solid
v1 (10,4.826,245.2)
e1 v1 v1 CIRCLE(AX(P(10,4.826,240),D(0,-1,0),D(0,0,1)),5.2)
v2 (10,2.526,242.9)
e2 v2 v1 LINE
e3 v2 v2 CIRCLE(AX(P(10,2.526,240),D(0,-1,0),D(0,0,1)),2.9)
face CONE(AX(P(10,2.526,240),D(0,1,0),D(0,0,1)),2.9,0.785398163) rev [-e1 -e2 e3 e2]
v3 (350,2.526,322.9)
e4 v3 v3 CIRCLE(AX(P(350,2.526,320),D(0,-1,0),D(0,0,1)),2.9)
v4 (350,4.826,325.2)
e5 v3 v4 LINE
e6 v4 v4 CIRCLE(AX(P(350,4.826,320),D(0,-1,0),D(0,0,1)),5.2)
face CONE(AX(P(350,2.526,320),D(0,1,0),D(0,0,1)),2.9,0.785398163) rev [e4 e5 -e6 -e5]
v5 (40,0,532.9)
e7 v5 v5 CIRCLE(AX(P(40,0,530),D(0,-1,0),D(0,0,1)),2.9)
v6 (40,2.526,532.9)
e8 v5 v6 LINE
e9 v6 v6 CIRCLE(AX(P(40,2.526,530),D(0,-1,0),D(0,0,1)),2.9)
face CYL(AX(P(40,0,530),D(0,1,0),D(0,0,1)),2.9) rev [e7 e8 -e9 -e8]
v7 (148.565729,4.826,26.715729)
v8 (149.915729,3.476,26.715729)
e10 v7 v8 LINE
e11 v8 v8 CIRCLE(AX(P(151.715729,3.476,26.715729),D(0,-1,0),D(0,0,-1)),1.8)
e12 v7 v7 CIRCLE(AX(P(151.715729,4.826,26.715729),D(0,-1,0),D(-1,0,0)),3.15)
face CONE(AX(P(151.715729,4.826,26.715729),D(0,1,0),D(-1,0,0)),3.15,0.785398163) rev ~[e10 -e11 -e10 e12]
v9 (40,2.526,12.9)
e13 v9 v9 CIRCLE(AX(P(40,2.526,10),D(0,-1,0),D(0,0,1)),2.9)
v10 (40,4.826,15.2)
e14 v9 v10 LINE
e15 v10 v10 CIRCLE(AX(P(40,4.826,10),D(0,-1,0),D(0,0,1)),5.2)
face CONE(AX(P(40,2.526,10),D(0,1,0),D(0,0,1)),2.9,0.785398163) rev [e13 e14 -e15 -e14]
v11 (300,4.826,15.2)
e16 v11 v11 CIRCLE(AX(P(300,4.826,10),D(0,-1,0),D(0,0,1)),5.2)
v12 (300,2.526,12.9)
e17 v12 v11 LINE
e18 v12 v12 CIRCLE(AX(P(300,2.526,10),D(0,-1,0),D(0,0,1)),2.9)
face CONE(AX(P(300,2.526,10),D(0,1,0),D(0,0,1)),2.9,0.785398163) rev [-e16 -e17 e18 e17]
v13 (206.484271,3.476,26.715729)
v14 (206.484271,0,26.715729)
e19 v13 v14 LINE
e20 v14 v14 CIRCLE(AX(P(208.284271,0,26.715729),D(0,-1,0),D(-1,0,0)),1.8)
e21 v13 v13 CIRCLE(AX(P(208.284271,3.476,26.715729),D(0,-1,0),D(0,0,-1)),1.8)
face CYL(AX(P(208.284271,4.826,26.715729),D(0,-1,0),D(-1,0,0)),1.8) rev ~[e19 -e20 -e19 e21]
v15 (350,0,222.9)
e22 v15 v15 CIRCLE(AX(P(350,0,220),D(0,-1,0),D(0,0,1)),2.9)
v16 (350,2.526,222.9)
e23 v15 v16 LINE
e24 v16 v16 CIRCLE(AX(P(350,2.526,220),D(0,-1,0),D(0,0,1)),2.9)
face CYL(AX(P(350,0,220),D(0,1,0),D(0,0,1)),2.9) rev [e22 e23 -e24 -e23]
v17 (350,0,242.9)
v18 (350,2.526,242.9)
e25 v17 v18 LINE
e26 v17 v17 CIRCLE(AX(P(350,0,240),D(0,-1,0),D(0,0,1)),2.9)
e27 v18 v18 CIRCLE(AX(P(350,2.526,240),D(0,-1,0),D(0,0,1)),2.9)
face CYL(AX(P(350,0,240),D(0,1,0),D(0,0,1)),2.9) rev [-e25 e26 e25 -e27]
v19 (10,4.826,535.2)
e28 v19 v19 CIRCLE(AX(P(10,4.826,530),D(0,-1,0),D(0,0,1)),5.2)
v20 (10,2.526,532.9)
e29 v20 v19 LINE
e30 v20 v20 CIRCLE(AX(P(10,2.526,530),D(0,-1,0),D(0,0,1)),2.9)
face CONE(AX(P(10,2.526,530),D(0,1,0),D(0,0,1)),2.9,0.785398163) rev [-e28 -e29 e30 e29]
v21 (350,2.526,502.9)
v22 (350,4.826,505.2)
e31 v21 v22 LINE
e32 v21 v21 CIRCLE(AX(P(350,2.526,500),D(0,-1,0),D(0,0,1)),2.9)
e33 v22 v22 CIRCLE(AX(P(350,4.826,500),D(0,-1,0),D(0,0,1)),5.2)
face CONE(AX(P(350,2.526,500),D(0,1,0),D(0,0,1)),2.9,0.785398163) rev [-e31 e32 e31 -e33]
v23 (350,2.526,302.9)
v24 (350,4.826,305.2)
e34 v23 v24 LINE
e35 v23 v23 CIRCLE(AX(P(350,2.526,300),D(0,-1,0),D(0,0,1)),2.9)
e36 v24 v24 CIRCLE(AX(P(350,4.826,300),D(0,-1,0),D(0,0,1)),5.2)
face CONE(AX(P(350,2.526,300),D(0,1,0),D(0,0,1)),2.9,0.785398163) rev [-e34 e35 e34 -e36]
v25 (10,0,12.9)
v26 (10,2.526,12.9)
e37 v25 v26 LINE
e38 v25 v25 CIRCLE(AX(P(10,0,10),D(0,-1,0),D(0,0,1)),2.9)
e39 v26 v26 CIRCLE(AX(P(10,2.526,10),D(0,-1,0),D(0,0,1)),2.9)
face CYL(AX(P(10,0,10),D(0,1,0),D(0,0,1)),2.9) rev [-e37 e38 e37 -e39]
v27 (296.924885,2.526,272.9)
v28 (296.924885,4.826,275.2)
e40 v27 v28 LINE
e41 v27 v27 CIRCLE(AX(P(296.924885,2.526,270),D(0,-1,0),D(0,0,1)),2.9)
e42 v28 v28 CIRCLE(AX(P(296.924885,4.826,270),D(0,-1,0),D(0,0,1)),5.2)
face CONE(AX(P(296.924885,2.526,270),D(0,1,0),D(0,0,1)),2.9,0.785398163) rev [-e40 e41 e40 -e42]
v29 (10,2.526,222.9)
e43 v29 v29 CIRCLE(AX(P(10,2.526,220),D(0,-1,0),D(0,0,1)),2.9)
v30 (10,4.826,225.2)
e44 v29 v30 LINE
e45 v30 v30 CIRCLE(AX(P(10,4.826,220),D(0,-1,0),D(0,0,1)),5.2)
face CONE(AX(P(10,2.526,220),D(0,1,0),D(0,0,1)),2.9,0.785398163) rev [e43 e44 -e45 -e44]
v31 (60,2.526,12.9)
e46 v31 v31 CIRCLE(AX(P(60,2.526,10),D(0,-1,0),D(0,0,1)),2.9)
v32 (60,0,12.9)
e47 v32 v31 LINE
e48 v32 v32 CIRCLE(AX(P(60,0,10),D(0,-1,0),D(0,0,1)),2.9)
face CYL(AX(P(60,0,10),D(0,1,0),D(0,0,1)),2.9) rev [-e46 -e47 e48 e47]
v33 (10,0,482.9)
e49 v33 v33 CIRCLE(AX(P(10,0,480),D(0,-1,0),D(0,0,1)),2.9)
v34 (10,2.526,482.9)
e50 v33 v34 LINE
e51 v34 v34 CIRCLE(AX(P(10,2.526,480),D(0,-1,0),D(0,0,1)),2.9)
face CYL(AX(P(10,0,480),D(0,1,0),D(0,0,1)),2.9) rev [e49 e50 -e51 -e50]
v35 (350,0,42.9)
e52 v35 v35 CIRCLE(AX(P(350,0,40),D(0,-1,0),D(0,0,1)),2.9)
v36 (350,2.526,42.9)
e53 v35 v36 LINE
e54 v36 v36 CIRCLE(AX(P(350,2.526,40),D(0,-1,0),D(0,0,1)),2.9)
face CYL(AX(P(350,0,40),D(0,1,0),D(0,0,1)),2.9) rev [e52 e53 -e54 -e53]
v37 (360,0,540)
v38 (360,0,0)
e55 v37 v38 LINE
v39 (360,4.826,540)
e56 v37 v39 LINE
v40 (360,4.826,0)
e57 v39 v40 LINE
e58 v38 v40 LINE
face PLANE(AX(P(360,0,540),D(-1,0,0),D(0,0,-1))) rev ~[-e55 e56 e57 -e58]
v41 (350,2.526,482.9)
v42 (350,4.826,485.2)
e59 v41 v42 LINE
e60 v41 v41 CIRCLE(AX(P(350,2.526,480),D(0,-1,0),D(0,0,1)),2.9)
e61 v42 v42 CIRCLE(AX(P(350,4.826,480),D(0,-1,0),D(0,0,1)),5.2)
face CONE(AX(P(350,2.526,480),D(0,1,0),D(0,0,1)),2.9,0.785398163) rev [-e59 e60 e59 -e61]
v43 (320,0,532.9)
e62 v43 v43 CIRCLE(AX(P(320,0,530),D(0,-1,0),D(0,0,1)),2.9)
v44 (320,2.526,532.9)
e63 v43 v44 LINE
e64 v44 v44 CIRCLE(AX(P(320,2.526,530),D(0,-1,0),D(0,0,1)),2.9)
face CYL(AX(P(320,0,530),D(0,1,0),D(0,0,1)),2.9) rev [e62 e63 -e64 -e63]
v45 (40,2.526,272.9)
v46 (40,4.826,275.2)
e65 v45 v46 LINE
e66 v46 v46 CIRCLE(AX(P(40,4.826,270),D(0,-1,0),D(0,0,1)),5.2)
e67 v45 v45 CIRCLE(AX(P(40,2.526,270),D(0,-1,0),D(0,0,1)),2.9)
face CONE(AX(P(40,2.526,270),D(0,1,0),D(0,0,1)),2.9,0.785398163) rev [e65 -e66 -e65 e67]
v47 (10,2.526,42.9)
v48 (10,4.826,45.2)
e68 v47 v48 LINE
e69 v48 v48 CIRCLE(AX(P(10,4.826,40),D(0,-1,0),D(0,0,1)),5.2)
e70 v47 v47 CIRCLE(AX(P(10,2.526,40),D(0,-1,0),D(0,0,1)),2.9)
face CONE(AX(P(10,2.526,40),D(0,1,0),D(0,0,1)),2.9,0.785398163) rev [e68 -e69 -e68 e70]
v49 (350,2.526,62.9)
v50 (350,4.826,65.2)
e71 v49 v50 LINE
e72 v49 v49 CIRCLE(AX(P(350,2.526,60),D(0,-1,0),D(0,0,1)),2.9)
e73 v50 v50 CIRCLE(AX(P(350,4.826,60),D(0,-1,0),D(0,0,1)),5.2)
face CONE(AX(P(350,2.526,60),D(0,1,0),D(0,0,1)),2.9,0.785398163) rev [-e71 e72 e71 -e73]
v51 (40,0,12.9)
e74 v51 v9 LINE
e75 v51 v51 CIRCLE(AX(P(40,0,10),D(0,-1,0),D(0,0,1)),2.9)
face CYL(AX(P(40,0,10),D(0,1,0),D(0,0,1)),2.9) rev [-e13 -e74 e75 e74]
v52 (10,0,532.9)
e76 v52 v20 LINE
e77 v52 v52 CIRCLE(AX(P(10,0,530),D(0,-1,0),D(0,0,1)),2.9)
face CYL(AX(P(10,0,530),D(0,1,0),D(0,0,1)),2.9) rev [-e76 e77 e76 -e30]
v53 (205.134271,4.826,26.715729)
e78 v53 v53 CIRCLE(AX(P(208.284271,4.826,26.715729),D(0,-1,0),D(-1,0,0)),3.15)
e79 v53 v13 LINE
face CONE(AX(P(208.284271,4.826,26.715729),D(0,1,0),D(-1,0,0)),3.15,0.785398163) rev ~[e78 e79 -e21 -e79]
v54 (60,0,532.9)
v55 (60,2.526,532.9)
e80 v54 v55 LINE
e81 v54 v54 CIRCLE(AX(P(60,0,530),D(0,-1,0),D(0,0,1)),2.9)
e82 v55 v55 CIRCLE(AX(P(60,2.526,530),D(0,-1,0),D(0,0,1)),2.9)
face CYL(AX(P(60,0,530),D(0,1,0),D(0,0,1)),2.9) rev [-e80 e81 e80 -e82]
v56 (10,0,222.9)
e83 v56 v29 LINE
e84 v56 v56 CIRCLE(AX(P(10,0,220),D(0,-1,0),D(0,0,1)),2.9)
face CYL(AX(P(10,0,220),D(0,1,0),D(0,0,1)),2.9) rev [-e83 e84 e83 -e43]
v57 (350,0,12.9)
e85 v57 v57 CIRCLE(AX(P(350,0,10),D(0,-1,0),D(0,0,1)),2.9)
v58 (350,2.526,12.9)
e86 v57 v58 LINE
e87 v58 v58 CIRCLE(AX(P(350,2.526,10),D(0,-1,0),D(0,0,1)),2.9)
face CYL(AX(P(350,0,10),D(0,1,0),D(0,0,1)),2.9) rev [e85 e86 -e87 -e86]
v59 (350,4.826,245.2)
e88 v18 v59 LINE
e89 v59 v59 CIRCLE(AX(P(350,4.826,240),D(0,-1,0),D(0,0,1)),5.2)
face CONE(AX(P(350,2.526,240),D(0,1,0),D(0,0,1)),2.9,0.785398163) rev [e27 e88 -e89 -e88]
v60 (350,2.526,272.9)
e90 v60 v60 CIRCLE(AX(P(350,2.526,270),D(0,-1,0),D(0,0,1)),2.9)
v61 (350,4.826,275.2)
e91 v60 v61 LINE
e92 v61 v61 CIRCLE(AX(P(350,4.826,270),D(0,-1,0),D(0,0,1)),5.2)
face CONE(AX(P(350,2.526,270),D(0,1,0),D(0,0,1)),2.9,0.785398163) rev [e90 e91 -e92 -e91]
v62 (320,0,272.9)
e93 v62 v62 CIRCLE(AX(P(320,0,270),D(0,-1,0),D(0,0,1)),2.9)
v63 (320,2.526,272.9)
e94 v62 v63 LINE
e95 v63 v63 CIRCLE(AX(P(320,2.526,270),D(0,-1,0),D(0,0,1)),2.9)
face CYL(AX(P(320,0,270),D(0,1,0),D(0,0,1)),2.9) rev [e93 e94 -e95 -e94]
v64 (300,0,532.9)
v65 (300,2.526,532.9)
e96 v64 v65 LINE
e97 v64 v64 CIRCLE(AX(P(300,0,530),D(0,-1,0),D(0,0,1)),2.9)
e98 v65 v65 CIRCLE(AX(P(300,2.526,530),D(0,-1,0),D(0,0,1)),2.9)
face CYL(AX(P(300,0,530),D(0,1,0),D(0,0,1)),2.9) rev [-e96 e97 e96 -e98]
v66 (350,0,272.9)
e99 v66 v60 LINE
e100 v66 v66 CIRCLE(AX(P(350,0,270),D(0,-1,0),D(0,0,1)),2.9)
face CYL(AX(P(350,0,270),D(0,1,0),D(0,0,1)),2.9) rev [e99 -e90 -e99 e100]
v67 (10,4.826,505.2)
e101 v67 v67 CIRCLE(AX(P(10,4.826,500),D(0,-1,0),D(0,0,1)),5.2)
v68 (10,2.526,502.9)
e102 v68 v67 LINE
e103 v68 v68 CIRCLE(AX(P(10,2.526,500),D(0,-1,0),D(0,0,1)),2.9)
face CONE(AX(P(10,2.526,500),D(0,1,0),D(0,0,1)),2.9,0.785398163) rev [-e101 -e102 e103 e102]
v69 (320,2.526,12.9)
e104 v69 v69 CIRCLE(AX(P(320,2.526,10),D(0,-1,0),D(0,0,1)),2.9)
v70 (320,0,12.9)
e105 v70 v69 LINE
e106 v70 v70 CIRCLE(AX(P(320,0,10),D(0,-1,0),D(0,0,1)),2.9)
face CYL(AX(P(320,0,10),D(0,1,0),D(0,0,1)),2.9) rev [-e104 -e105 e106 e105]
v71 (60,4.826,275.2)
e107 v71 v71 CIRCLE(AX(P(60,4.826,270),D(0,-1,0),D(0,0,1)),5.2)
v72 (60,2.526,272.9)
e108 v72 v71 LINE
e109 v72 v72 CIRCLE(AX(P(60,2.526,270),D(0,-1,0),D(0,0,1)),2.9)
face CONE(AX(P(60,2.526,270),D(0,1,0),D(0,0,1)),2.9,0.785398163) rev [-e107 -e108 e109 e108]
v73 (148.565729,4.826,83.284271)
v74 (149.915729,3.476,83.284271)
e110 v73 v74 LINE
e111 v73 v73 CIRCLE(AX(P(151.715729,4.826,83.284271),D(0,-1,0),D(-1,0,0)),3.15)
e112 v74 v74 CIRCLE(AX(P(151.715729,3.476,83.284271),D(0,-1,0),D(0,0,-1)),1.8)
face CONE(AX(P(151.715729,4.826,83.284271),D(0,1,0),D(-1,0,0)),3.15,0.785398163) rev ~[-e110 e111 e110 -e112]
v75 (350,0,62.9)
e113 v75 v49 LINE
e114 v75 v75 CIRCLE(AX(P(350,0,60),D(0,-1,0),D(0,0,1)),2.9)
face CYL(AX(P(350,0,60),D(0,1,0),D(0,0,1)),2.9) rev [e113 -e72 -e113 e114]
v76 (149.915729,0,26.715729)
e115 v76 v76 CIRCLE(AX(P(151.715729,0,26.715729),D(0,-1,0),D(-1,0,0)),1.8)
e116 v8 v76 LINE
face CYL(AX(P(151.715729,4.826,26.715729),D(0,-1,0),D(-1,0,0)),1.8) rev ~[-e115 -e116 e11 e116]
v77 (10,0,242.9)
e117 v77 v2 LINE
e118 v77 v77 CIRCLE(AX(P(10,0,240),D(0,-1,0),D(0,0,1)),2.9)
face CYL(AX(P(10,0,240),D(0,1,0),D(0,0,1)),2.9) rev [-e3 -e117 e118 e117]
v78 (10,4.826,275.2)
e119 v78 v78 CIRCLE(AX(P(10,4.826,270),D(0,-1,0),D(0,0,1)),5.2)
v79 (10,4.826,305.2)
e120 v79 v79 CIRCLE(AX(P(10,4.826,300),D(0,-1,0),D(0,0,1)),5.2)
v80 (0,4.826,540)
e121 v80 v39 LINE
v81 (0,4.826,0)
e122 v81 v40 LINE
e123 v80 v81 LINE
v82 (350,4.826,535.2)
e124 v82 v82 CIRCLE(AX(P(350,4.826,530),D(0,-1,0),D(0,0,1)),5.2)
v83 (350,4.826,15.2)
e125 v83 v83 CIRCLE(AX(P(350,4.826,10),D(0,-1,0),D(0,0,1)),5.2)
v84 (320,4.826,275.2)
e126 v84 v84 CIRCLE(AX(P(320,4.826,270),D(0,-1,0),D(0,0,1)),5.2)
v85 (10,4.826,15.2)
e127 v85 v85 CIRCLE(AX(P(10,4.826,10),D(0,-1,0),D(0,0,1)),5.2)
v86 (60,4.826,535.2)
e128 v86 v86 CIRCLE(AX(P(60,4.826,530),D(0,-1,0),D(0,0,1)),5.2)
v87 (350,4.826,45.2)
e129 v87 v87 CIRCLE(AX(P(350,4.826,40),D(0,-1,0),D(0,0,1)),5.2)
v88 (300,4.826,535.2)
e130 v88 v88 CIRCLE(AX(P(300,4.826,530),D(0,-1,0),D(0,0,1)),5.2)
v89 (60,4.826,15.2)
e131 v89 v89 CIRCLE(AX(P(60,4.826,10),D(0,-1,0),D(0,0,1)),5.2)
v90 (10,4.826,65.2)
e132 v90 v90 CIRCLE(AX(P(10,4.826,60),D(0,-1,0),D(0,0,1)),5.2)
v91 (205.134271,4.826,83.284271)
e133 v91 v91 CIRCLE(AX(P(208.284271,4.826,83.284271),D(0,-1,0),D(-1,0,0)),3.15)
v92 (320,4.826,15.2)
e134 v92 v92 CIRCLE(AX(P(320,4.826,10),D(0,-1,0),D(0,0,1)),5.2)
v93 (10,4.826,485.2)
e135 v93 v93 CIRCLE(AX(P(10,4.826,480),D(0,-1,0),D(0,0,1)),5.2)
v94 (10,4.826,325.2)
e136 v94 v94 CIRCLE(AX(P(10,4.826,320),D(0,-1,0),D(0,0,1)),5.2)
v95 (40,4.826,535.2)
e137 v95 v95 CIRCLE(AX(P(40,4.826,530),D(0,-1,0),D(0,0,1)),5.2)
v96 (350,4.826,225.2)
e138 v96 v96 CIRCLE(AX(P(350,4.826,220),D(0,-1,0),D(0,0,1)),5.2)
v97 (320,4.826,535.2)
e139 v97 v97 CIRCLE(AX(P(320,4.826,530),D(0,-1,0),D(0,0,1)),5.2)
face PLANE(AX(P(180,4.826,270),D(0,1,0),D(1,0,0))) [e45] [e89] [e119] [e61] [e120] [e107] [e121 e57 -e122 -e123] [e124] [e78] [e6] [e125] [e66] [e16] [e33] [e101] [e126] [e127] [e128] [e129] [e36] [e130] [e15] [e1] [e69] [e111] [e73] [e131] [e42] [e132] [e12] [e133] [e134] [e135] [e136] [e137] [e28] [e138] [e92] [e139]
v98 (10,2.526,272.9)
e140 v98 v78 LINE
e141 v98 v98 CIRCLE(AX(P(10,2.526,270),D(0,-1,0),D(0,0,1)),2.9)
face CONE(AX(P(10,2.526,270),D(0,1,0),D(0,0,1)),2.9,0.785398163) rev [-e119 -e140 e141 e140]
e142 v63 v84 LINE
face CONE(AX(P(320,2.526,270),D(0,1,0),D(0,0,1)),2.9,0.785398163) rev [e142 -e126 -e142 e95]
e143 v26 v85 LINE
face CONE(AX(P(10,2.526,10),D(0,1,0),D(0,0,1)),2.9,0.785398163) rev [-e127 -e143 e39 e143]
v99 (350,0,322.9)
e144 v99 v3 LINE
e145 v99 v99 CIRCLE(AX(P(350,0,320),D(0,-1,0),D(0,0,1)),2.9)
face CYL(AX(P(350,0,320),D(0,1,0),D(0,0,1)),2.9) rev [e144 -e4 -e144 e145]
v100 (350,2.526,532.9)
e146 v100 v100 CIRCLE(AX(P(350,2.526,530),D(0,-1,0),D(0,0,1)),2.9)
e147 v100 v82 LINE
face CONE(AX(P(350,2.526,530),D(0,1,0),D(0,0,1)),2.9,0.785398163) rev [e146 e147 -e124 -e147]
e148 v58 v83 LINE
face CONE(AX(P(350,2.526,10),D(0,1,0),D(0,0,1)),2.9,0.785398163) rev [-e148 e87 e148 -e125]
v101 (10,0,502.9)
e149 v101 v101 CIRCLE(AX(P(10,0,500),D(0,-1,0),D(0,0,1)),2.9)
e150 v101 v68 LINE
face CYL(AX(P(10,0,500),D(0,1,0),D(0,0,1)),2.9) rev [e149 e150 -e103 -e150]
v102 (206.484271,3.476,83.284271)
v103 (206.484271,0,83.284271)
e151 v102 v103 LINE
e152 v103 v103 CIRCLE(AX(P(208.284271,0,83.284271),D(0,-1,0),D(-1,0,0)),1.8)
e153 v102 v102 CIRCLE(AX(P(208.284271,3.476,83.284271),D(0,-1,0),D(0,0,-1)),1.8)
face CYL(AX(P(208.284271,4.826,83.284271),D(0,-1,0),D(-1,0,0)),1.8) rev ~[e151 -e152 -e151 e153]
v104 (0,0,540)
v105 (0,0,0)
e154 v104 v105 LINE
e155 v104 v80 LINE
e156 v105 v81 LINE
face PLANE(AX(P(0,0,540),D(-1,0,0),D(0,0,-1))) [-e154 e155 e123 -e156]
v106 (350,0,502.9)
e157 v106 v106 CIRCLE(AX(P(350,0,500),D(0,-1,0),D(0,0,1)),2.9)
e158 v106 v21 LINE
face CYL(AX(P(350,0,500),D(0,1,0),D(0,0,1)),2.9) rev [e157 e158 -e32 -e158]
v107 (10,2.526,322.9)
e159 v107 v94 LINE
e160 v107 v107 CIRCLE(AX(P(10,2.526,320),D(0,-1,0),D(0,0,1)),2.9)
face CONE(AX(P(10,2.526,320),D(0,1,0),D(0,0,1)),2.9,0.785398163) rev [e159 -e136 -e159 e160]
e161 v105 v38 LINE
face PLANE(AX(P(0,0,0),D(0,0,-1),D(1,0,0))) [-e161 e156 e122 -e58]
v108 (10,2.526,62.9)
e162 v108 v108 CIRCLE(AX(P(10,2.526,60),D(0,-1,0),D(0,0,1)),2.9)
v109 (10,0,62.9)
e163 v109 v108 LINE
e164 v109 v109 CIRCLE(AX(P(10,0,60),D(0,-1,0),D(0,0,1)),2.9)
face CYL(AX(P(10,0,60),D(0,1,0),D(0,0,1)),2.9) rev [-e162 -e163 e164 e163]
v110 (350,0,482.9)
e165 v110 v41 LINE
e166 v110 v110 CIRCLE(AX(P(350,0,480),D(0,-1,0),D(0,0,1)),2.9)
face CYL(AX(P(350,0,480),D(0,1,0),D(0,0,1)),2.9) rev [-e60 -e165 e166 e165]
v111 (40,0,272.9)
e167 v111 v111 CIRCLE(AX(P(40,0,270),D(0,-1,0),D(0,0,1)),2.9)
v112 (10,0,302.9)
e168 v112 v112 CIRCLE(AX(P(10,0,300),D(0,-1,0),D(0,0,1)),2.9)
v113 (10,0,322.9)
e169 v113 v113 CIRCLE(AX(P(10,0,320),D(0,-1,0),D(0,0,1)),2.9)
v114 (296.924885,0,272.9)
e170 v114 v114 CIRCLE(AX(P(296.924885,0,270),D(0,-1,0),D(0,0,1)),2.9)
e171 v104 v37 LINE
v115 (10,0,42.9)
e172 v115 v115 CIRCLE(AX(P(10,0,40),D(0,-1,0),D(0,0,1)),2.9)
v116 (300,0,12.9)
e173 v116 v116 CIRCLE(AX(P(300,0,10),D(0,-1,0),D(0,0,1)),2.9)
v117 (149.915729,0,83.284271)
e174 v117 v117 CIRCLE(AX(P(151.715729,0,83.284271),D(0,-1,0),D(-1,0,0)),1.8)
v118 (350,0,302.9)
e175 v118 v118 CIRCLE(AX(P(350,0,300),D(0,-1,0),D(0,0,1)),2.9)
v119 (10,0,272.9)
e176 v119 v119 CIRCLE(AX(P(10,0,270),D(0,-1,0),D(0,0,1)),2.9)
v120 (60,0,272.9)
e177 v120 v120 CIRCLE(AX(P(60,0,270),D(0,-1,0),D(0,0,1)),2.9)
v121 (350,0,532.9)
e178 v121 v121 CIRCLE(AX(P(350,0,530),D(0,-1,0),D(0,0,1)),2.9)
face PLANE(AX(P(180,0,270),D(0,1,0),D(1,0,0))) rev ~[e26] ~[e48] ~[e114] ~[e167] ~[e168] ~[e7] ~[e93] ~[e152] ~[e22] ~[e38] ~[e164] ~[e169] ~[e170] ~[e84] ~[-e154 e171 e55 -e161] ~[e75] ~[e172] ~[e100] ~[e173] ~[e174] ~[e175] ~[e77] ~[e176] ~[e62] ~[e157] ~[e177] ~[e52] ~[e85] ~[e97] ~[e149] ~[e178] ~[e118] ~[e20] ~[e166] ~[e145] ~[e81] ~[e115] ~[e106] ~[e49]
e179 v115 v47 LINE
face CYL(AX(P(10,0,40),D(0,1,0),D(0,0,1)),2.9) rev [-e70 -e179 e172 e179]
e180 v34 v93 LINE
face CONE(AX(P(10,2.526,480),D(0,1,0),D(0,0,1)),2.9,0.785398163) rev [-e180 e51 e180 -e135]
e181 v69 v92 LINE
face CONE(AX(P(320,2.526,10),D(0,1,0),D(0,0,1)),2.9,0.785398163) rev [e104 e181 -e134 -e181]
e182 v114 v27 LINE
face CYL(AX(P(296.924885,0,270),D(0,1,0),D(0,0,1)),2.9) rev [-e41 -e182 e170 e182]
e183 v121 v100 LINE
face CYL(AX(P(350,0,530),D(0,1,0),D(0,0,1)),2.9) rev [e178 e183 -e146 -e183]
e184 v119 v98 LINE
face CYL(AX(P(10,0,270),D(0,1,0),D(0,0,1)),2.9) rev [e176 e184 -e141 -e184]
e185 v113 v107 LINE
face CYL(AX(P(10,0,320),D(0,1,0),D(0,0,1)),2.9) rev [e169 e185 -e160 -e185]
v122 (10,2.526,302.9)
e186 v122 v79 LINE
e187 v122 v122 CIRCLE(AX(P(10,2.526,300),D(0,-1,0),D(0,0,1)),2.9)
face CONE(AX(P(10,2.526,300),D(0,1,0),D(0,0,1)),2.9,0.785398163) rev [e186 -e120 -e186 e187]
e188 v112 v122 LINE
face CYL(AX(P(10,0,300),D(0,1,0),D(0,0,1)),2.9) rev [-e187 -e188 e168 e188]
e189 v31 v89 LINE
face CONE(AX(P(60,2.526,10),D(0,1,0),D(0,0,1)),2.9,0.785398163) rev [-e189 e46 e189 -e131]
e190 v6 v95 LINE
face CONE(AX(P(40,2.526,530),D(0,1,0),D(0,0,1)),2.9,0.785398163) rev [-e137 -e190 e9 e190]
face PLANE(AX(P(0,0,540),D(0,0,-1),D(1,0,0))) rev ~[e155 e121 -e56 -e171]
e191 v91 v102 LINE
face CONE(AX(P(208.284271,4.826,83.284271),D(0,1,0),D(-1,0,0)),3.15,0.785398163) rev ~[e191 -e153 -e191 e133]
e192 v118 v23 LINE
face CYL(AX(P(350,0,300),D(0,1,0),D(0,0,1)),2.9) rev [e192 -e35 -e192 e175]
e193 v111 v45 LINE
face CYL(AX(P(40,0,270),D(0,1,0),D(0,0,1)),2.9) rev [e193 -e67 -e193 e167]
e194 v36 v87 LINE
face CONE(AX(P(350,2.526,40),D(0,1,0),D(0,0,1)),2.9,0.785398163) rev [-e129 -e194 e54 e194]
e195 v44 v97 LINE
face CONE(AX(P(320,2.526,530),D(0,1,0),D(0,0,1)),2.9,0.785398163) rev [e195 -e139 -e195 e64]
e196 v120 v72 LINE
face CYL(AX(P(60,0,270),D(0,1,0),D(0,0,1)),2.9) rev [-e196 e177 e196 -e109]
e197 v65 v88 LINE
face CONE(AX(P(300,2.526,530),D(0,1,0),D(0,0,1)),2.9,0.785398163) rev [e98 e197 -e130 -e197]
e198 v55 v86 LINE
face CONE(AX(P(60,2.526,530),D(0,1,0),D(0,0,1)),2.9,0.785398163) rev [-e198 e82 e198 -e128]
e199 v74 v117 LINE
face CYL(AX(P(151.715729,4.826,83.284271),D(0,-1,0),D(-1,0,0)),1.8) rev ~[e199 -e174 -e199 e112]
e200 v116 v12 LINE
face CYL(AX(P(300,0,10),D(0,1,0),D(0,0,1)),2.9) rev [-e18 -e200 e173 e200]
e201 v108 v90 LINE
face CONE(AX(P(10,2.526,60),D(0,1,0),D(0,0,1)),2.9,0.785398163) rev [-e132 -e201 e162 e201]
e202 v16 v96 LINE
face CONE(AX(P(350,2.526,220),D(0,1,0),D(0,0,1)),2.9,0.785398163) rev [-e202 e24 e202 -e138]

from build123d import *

# Parameters (mm, degrees)
SKETCH1_W                                       = 360
SKETCH1_H                                       = 540
BOSS_EXTRUDE1_DEPTH                             = 4.826
CSK_FOR_M3_FLAT_HEAD_MACHINE_SCREW1_D           = 3.6
CSK_FOR_M3_FLAT_HEAD_MACHINE_SCREW1_CSINK_D     = 6.3
CSK_FOR_M3_FLAT_HEAD_MACHINE_SCREW1_CSINK_ANGLE = 90
CSK_FOR_M5_FLAT_HEAD_MACHINE_SCREW1_AT_2_COUNT  = 2
CSK_FOR_M5_FLAT_HEAD_MACHINE_SCREW1_AT_2_PITCH  = 231.948270095
CSK_FOR_M5_FLAT_HEAD_MACHINE_SCREW1_AT_3_COUNT  = 2
CSK_FOR_M5_FLAT_HEAD_MACHINE_SCREW1_AT_3_PITCH  = 230
CSK_FOR_M5_FLAT_HEAD_MACHINE_SCREW1_AT_4_COUNT  = 2
CSK_FOR_M5_FLAT_HEAD_MACHINE_SCREW1_AT_4_PITCH  = 280
CSK_FOR_M5_FLAT_HEAD_MACHINE_SCREW1_AT_5_COUNT  = 2
CSK_FOR_M5_FLAT_HEAD_MACHINE_SCREW1_AT_5_PITCH  = 42.426406871
CSK_FOR_M5_FLAT_HEAD_MACHINE_SCREW1_AT_6_COUNT  = 2
CSK_FOR_M5_FLAT_HEAD_MACHINE_SCREW1_AT_6_PITCH  = 30
CSK_FOR_M5_FLAT_HEAD_MACHINE_SCREW1_AT_7_COUNT  = 2
CSK_FOR_M5_FLAT_HEAD_MACHINE_SCREW1_AT_7_PITCH  = 311.448230048
CSK_FOR_M5_FLAT_HEAD_MACHINE_SCREW1_AT_8_COUNT  = 2
CSK_FOR_M5_FLAT_HEAD_MACHINE_SCREW1_AT_8_PITCH  = 341.320963318
CSK_FOR_M5_FLAT_HEAD_MACHINE_SCREW1_AT_9_COUNT  = 2
CSK_FOR_M5_FLAT_HEAD_MACHINE_SCREW1_AT_9_PITCH  = 340
CSK_FOR_M5_FLAT_HEAD_MACHINE_SCREW1_AT_1_COUNT  = 2
CSK_FOR_M5_FLAT_HEAD_MACHINE_SCREW1_AT_1_PITCH  = 200
CSK_FOR_M5_FLAT_HEAD_MACHINE_SCREW1_2_COUNT     = 2
CSK_FOR_M5_FLAT_HEAD_MACHINE_SCREW1_2_PITCH     = 410.487515035
CSK_FOR_M5_FLAT_HEAD_MACHINE_SCREW1_3_COUNT     = 2
CSK_FOR_M5_FLAT_HEAD_MACHINE_SCREW1_3_PITCH     = 260
CSK_FOR_M5_FLAT_HEAD_MACHINE_SCREW1_4_COUNT     = 2
CSK_FOR_M5_FLAT_HEAD_MACHINE_SCREW1_4_PITCH     = 386.005181312
CSK_FOR_M5_FLAT_HEAD_MACHINE_SCREW1_5_COUNT     = 2
CSK_FOR_M5_FLAT_HEAD_MACHINE_SCREW1_5_PITCH     = 572.013985843
CSK_FOR_M5_FLAT_HEAD_MACHINE_SCREW1_6_COUNT     = 2
CSK_FOR_M5_FLAT_HEAD_MACHINE_SCREW1_6_PITCH     = 596.40590205
CSK_FOR_M5_FLAT_HEAD_MACHINE_SCREW1_7_COUNT     = 2
CSK_FOR_M5_FLAT_HEAD_MACHINE_SCREW1_7_PITCH     = 579.827560573
CSK_FOR_M5_FLAT_HEAD_MACHINE_SCREW1_8_COUNT     = 2
CSK_FOR_M5_FLAT_HEAD_MACHINE_SCREW1_8_PITCH     = 490.917508345
CSK_FOR_M5_FLAT_HEAD_MACHINE_SCREW1_9_COUNT     = 2
CSK_FOR_M5_FLAT_HEAD_MACHINE_SCREW1_9_PITCH     = 490
CSK_FOR_M5_FLAT_HEAD_MACHINE_SCREW1_10_COUNT    = 2
CSK_FOR_M5_FLAT_HEAD_MACHINE_SCREW1_10_PITCH    = 460
CSK_FOR_M5_FLAT_HEAD_MACHINE_SCREW1_11_COUNT    = 2
CSK_FOR_M5_FLAT_HEAD_MACHINE_SCREW1_11_PITCH    = 235.372045919
CSK_FOR_M5_FLAT_HEAD_MACHINE_SCREW1_12_COUNT    = 2
CSK_FOR_M5_FLAT_HEAD_MACHINE_SCREW1_12_PITCH    = 180
CSK_FOR_M5_FLAT_HEAD_MACHINE_SCREW1_13_COUNT    = 2
CSK_FOR_M5_FLAT_HEAD_MACHINE_SCREW1_13_PITCH    = 440
CSK_FOR_M5_FLAT_HEAD_MACHINE_SCREW1_14_COUNT    = 2
CSK_FOR_M5_FLAT_HEAD_MACHINE_SCREW1_14_PITCH    = 492.544414241
CSK_FOR_M5_FLAT_HEAD_MACHINE_SCREW1_15_COUNT    = 2
CSK_FOR_M5_FLAT_HEAD_MACHINE_SCREW1_15_PITCH    = 569.385633819
CSK_FOR_M5_FLAT_HEAD_MACHINE_SCREW1_16_COUNT    = 2
CSK_FOR_M5_FLAT_HEAD_MACHINE_SCREW1_16_PITCH    = 556.057550978
CSK_FOR_M5_FLAT_HEAD_MACHINE_SCREW1_17_COUNT    = 2
CSK_FOR_M5_FLAT_HEAD_MACHINE_SCREW1_17_PITCH    = 440.454310911
CSK_FOR_M5_FLAT_HEAD_MACHINE_SCREW1_18_COUNT    = 2
CSK_FOR_M5_FLAT_HEAD_MACHINE_SCREW1_18_PITCH    = 428.018691181
CSK_FOR_M5_FLAT_HEAD_MACHINE_SCREW1_19_COUNT    = 2
CSK_FOR_M5_FLAT_HEAD_MACHINE_SCREW1_19_PITCH    = 367.730729503
CSK_FOR_M5_FLAT_HEAD_MACHINE_SCREW1_20_COUNT    = 2
CSK_FOR_M5_FLAT_HEAD_MACHINE_SCREW1_20_PITCH    = 394.461658466
CSK_FOR_M5_FLAT_HEAD_MACHINE_SCREW1_21_COUNT    = 2
CSK_FOR_M5_FLAT_HEAD_MACHINE_SCREW1_21_PITCH    = 384.707681233
CSK_FOR_M5_FLAT_HEAD_MACHINE_SCREW1_22_COUNT    = 2
CSK_FOR_M5_FLAT_HEAD_MACHINE_SCREW1_22_PITCH    = 340.587727319
CSK_FOR_M5_FLAT_HEAD_MACHINE_SCREW1_23_COUNT    = 2
CSK_FOR_M5_FLAT_HEAD_MACHINE_SCREW1_23_PITCH    = 291.547594742
CSK_FOR_M5_FLAT_HEAD_MACHINE_SCREW1_24_COUNT    = 2
CSK_FOR_M5_FLAT_HEAD_MACHINE_SCREW1_24_PITCH    = 20
CSK_FOR_M5_FLAT_HEAD_MACHINE_SCREW1_25_COUNT    = 2
CSK_FOR_M5_FLAT_HEAD_MACHINE_SCREW1_25_PITCH    = 58.309518948


with BuildPart() as part:
    # Sketch1 → Boss-Extrude1 (new body)
    with BuildSketch(Plane(origin=(0, 0, 0), x_dir=(1, 0, 0), z_dir=(0, 1, 0))):
        with Locations((180, -270)):
            Rectangle(SKETCH1_W, SKETCH1_H)
    extrude(amount=BOSS_EXTRUDE1_DEPTH)

    # CSK for M3 Flat Head Machine Screw1 (through all)
    with Locations(Plane(origin=(0, 4.826, 0), x_dir=(1, 0, 0), z_dir=(0, 1, 0))):
        with Locations((151.715728753, -26.715728753), (208.284271247, -26.715728753), (208.284271247, -83.284271247), (151.715728753, -83.284271247)):
            CounterSinkHole(CSK_FOR_M3_FLAT_HEAD_MACHINE_SCREW1_D / 2, CSK_FOR_M3_FLAT_HEAD_MACHINE_SCREW1_CSINK_D / 2, counter_sink_angle=CSK_FOR_M3_FLAT_HEAD_MACHINE_SCREW1_CSINK_ANGLE)

    # Sketch15 → CSK for M5 Flat Head Machine Screw1 (revolve, cut)
    with BuildSketch(Plane(origin=(10, 4.826, 500), x_dir=(0, 0, 1), z_dir=(1, 0, 0))):
        Polygon((0, 0), (0, 4.826), (2.9, 4.826), (2.9, 2.3), (5.2, 0), align=None)
    csk_for_m5_flat_head_machine_screw1 = revolve(axis=Axis((10, 11.176, 500), (0, -1, 0)), mode=Mode.SUBTRACT)

    # CSK for M5 Flat Head Machine Screw1 at 2: CSK for M5 Flat Head Machine Screw1 ×2
    with Locations(*[Vector(0.12933918406776812, 0, -0.9916004111862218) * (i * CSK_FOR_M5_FLAT_HEAD_MACHINE_SCREW1_AT_2_PITCH) for i in range(1, CSK_FOR_M5_FLAT_HEAD_MACHINE_SCREW1_AT_2_COUNT)]):
        add(csk_for_m5_flat_head_machine_screw1, mode=Mode.SUBTRACT)

    # CSK for M5 Flat Head Machine Screw1 at 3: CSK for M5 Flat Head Machine Screw1 ×2
    with Locations(*[(0, 0, -i * CSK_FOR_M5_FLAT_HEAD_MACHINE_SCREW1_AT_3_PITCH) for i in range(1, CSK_FOR_M5_FLAT_HEAD_MACHINE_SCREW1_AT_3_COUNT)]):
        add(csk_for_m5_flat_head_machine_screw1, mode=Mode.SUBTRACT)

    # CSK for M5 Flat Head Machine Screw1 at 4: CSK for M5 Flat Head Machine Screw1 ×2
    with Locations(*[(0, 0, -i * CSK_FOR_M5_FLAT_HEAD_MACHINE_SCREW1_AT_4_PITCH) for i in range(1, CSK_FOR_M5_FLAT_HEAD_MACHINE_SCREW1_AT_4_COUNT)]):
        add(csk_for_m5_flat_head_machine_screw1, mode=Mode.SUBTRACT)

    # CSK for M5 Flat Head Machine Screw1 at 5: CSK for M5 Flat Head Machine Screw1 ×2
    with Locations(*[Vector(0.7071067811865471, 0, 0.707106781186548) * (i * CSK_FOR_M5_FLAT_HEAD_MACHINE_SCREW1_AT_5_PITCH) for i in range(1, CSK_FOR_M5_FLAT_HEAD_MACHINE_SCREW1_AT_5_COUNT)]):
        add(csk_for_m5_flat_head_machine_screw1, mode=Mode.SUBTRACT)

    # CSK for M5 Flat Head Machine Screw1 at 6: CSK for M5 Flat Head Machine Screw1 ×2
    with Locations(*[(0, 0, i * CSK_FOR_M5_FLAT_HEAD_MACHINE_SCREW1_AT_6_PITCH) for i in range(1, CSK_FOR_M5_FLAT_HEAD_MACHINE_SCREW1_AT_6_COUNT)]):
        add(csk_for_m5_flat_head_machine_screw1, mode=Mode.SUBTRACT)

    # CSK for M5 Flat Head Machine Screw1 at 7: CSK for M5 Flat Head Machine Screw1 ×2
    with Locations(*[Vector(0.9953500135553002, 0, 0.09632419486019031) * (i * CSK_FOR_M5_FLAT_HEAD_MACHINE_SCREW1_AT_7_PITCH) for i in range(1, CSK_FOR_M5_FLAT_HEAD_MACHINE_SCREW1_AT_7_COUNT)]):
        add(csk_for_m5_flat_head_machine_screw1, mode=Mode.SUBTRACT)

    # CSK for M5 Flat Head Machine Screw1 at 8: CSK for M5 Flat Head Machine Screw1 ×2
    with Locations(*[Vector(0.996129850025381, 0, 0.08789381029635711) * (i * CSK_FOR_M5_FLAT_HEAD_MACHINE_SCREW1_AT_8_PITCH) for i in range(1, CSK_FOR_M5_FLAT_HEAD_MACHINE_SCREW1_AT_8_COUNT)]):
        add(csk_for_m5_flat_head_machine_screw1, mode=Mode.SUBTRACT)

    # CSK for M5 Flat Head Machine Screw1 at 9: CSK for M5 Flat Head Machine Screw1 ×2
    with Locations(*[(i * CSK_FOR_M5_FLAT_HEAD_MACHINE_SCREW1_AT_9_PITCH, 0, 0) for i in range(1, CSK_FOR_M5_FLAT_HEAD_MACHINE_SCREW1_AT_9_COUNT)]):
        add(csk_for_m5_flat_head_machine_screw1, mode=Mode.SUBTRACT)

    # CSK for M5 Flat Head Machine Screw1 at 1: CSK for M5 Flat Head Machine Screw1 ×2
    with Locations(*[(0, 0, -i * CSK_FOR_M5_FLAT_HEAD_MACHINE_SCREW1_AT_1_PITCH) for i in range(1, CSK_FOR_M5_FLAT_HEAD_MACHINE_SCREW1_AT_1_COUNT)]):
        add(csk_for_m5_flat_head_machine_screw1, mode=Mode.SUBTRACT)

    # CSK for M5 Flat Head Machine Screw1  2: CSK for M5 Flat Head Machine Screw1 ×2
    with Locations(*[Vector(0.828283413127963, 0, -0.5603093677042105) * (i * CSK_FOR_M5_FLAT_HEAD_MACHINE_SCREW1_2_PITCH) for i in range(1, CSK_FOR_M5_FLAT_HEAD_MACHINE_SCREW1_2_COUNT)]):
        add(csk_for_m5_flat_head_machine_screw1, mode=Mode.SUBTRACT)

    # CSK for M5 Flat Head Machine Screw1  3: CSK for M5 Flat Head Machine Screw1 ×2
    with Locations(*[(0, 0, -i * CSK_FOR_M5_FLAT_HEAD_MACHINE_SCREW1_3_PITCH) for i in range(1, CSK_FOR_M5_FLAT_HEAD_MACHINE_SCREW1_3_COUNT)]):
        add(csk_for_m5_flat_head_machine_screw1, mode=Mode.SUBTRACT)

    # CSK for M5 Flat Head Machine Screw1  4: CSK for M5 Flat Head Machine Screw1 ×2
    with Locations(*[Vector(0.8030980282338016, 0, -0.5958469241734659) * (i * CSK_FOR_M5_FLAT_HEAD_MACHINE_SCREW1_4_PITCH) for i in range(1, CSK_FOR_M5_FLAT_HEAD_MACHINE_SCREW1_4_COUNT)]):
        add(csk_for_m5_flat_head_machine_screw1, mode=Mode.SUBTRACT)

    # CSK for M5 Flat Head Machine Screw1  5: CSK for M5 Flat Head Machine Screw1 ×2
    with Locations(*[Vector(0.5943910610838058, 0, -0.8041761414663255) * (i * CSK_FOR_M5_FLAT_HEAD_MACHINE_SCREW1_5_PITCH) for i in range(1, CSK_FOR_M5_FLAT_HEAD_MACHINE_SCREW1_5_COUNT)]):
        add(csk_for_m5_flat_head_machine_screw1, mode=Mode.SUBTRACT)

    # CSK for M5 Flat Head Machine Screw1  6: CSK for M5 Flat Head Machine Screw1 ×2
    with Locations(*[Vector(0.5700815482062942, 0, -0.821588113591424) * (i * CSK_FOR_M5_FLAT_HEAD_MACHINE_SCREW1_6_PITCH) for i in range(1, CSK_FOR_M5_FLAT_HEAD_MACHINE_SCREW1_6_COUNT)]):
        add(csk_for_m5_flat_head_machine_screw1, mode=Mode.SUBTRACT)

    # CSK for M5 Flat Head Machine Screw1  7: CSK for M5 Flat Head Machine Screw1 ×2
    with Locations(*[Vector(0.5346417126044627, 0, -0.8450788360522155) * (i * CSK_FOR_M5_FLAT_HEAD_MACHINE_SCREW1_7_PITCH) for i in range(1, CSK_FOR_M5_FLAT_HEAD_MACHINE_SCREW1_7_COUNT)]):
        add(csk_for_m5_flat_head_machine_screw1, mode=Mode.SUBTRACT)

    # CSK for M5 Flat Head Machine Screw1  8: CSK for M5 Flat Head Machine Screw1 ×2
    with Locations(*[Vector(0.06111006327950326, 0, -0.9981310335652204) * (i * CSK_FOR_M5_FLAT_HEAD_MACHINE_SCREW1_8_PITCH) for i in range(1, CSK_FOR_M5_FLAT_HEAD_MACHINE_SCREW1_8_COUNT)]):
        add(csk_for_m5_flat_head_machine_screw1, mode=Mode.SUBTRACT)

    # CSK for M5 Flat Head Machine Screw1  9: CSK for M5 Flat Head Machine Screw1 ×2
    with Locations(*[(0, 0, -i * CSK_FOR_M5_FLAT_HEAD_MACHINE_SCREW1_9_PITCH) for i in range(1, CSK_FOR_M5_FLAT_HEAD_MACHINE_SCREW1_9_COUNT)]):
        add(csk_for_m5_flat_head_machine_screw1, mode=Mode.SUBTRACT)

    # CSK for M5 Flat Head Machine Screw1  10: CSK for M5 Flat Head Machine Screw1 ×2
    with Locations(*[(0, 0, -i * CSK_FOR_M5_FLAT_HEAD_MACHINE_SCREW1_10_PITCH) for i in range(1, CSK_FOR_M5_FLAT_HEAD_MACHINE_SCREW1_10_COUNT)]):
        add(csk_for_m5_flat_head_machine_screw1, mode=Mode.SUBTRACT)

    # CSK for M5 Flat Head Machine Screw1  11: CSK for M5 Flat Head Machine Screw1 ×2
    with Locations(*[Vector(0.21242964433104353, 0, -0.977176363922801) * (i * CSK_FOR_M5_FLAT_HEAD_MACHINE_SCREW1_11_PITCH) for i in range(1, CSK_FOR_M5_FLAT_HEAD_MACHINE_SCREW1_11_COUNT)]):
        add(csk_for_m5_flat_head_machine_screw1, mode=Mode.SUBTRACT)

    # CSK for M5 Flat Head Machine Screw1  12: CSK for M5 Flat Head Machine Screw1 ×2
    with Locations(*[(0, 0, -i * CSK_FOR_M5_FLAT_HEAD_MACHINE_SCREW1_12_PITCH) for i in range(1, CSK_FOR_M5_FLAT_HEAD_MACHINE_SCREW1_12_COUNT)]):
        add(csk_for_m5_flat_head_machine_screw1, mode=Mode.SUBTRACT)

    # CSK for M5 Flat Head Machine Screw1  13: CSK for M5 Flat Head Machine Screw1 ×2
    with Locations(*[(0, 0, -i * CSK_FOR_M5_FLAT_HEAD_MACHINE_SCREW1_13_PITCH) for i in range(1, CSK_FOR_M5_FLAT_HEAD_MACHINE_SCREW1_13_COUNT)]):
        add(csk_for_m5_flat_head_machine_screw1, mode=Mode.SUBTRACT)

    # CSK for M5 Flat Head Machine Screw1  14: CSK for M5 Flat Head Machine Screw1 ×2
    with Locations(*[Vector(0.10151368801339447, 0, -0.994834142531266) * (i * CSK_FOR_M5_FLAT_HEAD_MACHINE_SCREW1_14_PITCH) for i in range(1, CSK_FOR_M5_FLAT_HEAD_MACHINE_SCREW1_14_COUNT)]):
        add(csk_for_m5_flat_head_machine_screw1, mode=Mode.SUBTRACT)

    # CSK for M5 Flat Head Machine Screw1  15: CSK for M5 Flat Head Machine Screw1 ×2
    with Locations(*[Vector(0.5093208939162445, 0, -0.860576682823999) * (i * CSK_FOR_M5_FLAT_HEAD_MACHINE_SCREW1_15_PITCH) for i in range(1, CSK_FOR_M5_FLAT_HEAD_MACHINE_SCREW1_15_COUNT)]):
        add(csk_for_m5_flat_head_machine_screw1, mode=Mode.SUBTRACT)

    # CSK for M5 Flat Head Machine Screw1  16: CSK for M5 Flat Head Machine Screw1 ×2
    with Locations(*[Vector(0.6114475010757656, 0, -0.7912850013921671) * (i * CSK_FOR_M5_FLAT_HEAD_MACHINE_SCREW1_16_PITCH) for i in range(1, CSK_FOR_M5_FLAT_HEAD_MACHINE_SCREW1_16_COUNT)]):
        add(csk_for_m5_flat_head_machine_screw1, mode=Mode.SUBTRACT)

    # CSK for M5 Flat Head Machine Screw1  17: CSK for M5 Flat Head Machine Screw1 ×2
    with Locations(*[Vector(0.7719302356170498, 0, -0.6357072528610996) * (i * CSK_FOR_M5_FLAT_HEAD_MACHINE_SCREW1_17_PITCH) for i in range(1, CSK_FOR_M5_FLAT_HEAD_MACHINE_SCREW1_17_COUNT)]):
        add(csk_for_m5_flat_head_machine_screw1, mode=Mode.SUBTRACT)

    # CSK for M5 Flat Head Machine Screw1  18: CSK for M5 Flat Head Machine Screw1 ×2
    with Locations(*[Vector(0.7943578329771963, 0, -0.607450107570797) * (i * CSK_FOR_M5_FLAT_HEAD_MACHINE_SCREW1_18_PITCH) for i in range(1, CSK_FOR_M5_FLAT_HEAD_MACHINE_SCREW1_18_COUNT)]):
        add(csk_for_m5_flat_head_machine_screw1, mode=Mode.SUBTRACT)

    # CSK for M5 Flat Head Machine Screw1  19: CSK for M5 Flat Head Machine Screw1 ×2
    with Locations(*[Vector(0.7802581117415023, 0, -0.6254576556902838) * (i * CSK_FOR_M5_FLAT_HEAD_MACHINE_SCREW1_19_PITCH) for i in range(1, CSK_FOR_M5_FLAT_HEAD_MACHINE_SCREW1_19_COUNT)]):
        add(csk_for_m5_flat_head_machine_screw1, mode=Mode.SUBTRACT)

    # CSK for M5 Flat Head Machine Screw1  20: CSK for M5 Flat Head Machine Screw1 ×2
    with Locations(*[Vector(0.8619342151577696, 0, -0.5070201265633937) * (i * CSK_FOR_M5_FLAT_HEAD_MACHINE_SCREW1_20_PITCH) for i in range(1, CSK_FOR_M5_FLAT_HEAD_MACHINE_SCREW1_20_COUNT)]):
        add(csk_for_m5_flat_head_machine_screw1, mode=Mode.SUBTRACT)

    # CSK for M5 Flat Head Machine Screw1  21: CSK for M5 Flat Head Machine Screw1 ×2
    with Locations(*[Vector(0.8837879163470619, 0, -0.46788772041903254) * (i * CSK_FOR_M5_FLAT_HEAD_MACHINE_SCREW1_21_PITCH) for i in range(1, CSK_FOR_M5_FLAT_HEAD_MACHINE_SCREW1_21_COUNT)]):
        add(csk_for_m5_flat_head_machine_screw1, mode=Mode.SUBTRACT)

    # CSK for M5 Flat Head Machine Screw1  22: CSK for M5 Flat Head Machine Screw1 ×2
    with Locations(*[Vector(0.9982743731749959, 0, -0.058722021951470325) * (i * CSK_FOR_M5_FLAT_HEAD_MACHINE_SCREW1_22_PITCH) for i in range(1, CSK_FOR_M5_FLAT_HEAD_MACHINE_SCREW1_22_COUNT)]):
        add(csk_for_m5_flat_head_machine_screw1, mode=Mode.SUBTRACT)

    # CSK for M5 Flat Head Machine Screw1  23: CSK for M5 Flat Head Machine Screw1 ×2
    with Locations(*[Vector(0.9946917938265513, 0, 0.10289915108550526) * (i * CSK_FOR_M5_FLAT_HEAD_MACHINE_SCREW1_23_PITCH) for i in range(1, CSK_FOR_M5_FLAT_HEAD_MACHINE_SCREW1_23_COUNT)]):
        add(csk_for_m5_flat_head_machine_screw1, mode=Mode.SUBTRACT)

    # CSK for M5 Flat Head Machine Screw1  24: CSK for M5 Flat Head Machine Screw1 ×2
    with Locations(*[(0, 0, -i * CSK_FOR_M5_FLAT_HEAD_MACHINE_SCREW1_24_PITCH) for i in range(1, CSK_FOR_M5_FLAT_HEAD_MACHINE_SCREW1_24_COUNT)]):
        add(csk_for_m5_flat_head_machine_screw1, mode=Mode.SUBTRACT)

    # CSK for M5 Flat Head Machine Screw1  25: CSK for M5 Flat Head Machine Screw1 ×2
    with Locations(*[Vector(0.8574929257125441, 0, 0.5144957554275269) * (i * CSK_FOR_M5_FLAT_HEAD_MACHINE_SCREW1_25_PITCH) for i in range(1, CSK_FOR_M5_FLAT_HEAD_MACHINE_SCREW1_25_COUNT)]):
        add(csk_for_m5_flat_head_machine_screw1, mode=Mode.SUBTRACT)


solid = part.part
